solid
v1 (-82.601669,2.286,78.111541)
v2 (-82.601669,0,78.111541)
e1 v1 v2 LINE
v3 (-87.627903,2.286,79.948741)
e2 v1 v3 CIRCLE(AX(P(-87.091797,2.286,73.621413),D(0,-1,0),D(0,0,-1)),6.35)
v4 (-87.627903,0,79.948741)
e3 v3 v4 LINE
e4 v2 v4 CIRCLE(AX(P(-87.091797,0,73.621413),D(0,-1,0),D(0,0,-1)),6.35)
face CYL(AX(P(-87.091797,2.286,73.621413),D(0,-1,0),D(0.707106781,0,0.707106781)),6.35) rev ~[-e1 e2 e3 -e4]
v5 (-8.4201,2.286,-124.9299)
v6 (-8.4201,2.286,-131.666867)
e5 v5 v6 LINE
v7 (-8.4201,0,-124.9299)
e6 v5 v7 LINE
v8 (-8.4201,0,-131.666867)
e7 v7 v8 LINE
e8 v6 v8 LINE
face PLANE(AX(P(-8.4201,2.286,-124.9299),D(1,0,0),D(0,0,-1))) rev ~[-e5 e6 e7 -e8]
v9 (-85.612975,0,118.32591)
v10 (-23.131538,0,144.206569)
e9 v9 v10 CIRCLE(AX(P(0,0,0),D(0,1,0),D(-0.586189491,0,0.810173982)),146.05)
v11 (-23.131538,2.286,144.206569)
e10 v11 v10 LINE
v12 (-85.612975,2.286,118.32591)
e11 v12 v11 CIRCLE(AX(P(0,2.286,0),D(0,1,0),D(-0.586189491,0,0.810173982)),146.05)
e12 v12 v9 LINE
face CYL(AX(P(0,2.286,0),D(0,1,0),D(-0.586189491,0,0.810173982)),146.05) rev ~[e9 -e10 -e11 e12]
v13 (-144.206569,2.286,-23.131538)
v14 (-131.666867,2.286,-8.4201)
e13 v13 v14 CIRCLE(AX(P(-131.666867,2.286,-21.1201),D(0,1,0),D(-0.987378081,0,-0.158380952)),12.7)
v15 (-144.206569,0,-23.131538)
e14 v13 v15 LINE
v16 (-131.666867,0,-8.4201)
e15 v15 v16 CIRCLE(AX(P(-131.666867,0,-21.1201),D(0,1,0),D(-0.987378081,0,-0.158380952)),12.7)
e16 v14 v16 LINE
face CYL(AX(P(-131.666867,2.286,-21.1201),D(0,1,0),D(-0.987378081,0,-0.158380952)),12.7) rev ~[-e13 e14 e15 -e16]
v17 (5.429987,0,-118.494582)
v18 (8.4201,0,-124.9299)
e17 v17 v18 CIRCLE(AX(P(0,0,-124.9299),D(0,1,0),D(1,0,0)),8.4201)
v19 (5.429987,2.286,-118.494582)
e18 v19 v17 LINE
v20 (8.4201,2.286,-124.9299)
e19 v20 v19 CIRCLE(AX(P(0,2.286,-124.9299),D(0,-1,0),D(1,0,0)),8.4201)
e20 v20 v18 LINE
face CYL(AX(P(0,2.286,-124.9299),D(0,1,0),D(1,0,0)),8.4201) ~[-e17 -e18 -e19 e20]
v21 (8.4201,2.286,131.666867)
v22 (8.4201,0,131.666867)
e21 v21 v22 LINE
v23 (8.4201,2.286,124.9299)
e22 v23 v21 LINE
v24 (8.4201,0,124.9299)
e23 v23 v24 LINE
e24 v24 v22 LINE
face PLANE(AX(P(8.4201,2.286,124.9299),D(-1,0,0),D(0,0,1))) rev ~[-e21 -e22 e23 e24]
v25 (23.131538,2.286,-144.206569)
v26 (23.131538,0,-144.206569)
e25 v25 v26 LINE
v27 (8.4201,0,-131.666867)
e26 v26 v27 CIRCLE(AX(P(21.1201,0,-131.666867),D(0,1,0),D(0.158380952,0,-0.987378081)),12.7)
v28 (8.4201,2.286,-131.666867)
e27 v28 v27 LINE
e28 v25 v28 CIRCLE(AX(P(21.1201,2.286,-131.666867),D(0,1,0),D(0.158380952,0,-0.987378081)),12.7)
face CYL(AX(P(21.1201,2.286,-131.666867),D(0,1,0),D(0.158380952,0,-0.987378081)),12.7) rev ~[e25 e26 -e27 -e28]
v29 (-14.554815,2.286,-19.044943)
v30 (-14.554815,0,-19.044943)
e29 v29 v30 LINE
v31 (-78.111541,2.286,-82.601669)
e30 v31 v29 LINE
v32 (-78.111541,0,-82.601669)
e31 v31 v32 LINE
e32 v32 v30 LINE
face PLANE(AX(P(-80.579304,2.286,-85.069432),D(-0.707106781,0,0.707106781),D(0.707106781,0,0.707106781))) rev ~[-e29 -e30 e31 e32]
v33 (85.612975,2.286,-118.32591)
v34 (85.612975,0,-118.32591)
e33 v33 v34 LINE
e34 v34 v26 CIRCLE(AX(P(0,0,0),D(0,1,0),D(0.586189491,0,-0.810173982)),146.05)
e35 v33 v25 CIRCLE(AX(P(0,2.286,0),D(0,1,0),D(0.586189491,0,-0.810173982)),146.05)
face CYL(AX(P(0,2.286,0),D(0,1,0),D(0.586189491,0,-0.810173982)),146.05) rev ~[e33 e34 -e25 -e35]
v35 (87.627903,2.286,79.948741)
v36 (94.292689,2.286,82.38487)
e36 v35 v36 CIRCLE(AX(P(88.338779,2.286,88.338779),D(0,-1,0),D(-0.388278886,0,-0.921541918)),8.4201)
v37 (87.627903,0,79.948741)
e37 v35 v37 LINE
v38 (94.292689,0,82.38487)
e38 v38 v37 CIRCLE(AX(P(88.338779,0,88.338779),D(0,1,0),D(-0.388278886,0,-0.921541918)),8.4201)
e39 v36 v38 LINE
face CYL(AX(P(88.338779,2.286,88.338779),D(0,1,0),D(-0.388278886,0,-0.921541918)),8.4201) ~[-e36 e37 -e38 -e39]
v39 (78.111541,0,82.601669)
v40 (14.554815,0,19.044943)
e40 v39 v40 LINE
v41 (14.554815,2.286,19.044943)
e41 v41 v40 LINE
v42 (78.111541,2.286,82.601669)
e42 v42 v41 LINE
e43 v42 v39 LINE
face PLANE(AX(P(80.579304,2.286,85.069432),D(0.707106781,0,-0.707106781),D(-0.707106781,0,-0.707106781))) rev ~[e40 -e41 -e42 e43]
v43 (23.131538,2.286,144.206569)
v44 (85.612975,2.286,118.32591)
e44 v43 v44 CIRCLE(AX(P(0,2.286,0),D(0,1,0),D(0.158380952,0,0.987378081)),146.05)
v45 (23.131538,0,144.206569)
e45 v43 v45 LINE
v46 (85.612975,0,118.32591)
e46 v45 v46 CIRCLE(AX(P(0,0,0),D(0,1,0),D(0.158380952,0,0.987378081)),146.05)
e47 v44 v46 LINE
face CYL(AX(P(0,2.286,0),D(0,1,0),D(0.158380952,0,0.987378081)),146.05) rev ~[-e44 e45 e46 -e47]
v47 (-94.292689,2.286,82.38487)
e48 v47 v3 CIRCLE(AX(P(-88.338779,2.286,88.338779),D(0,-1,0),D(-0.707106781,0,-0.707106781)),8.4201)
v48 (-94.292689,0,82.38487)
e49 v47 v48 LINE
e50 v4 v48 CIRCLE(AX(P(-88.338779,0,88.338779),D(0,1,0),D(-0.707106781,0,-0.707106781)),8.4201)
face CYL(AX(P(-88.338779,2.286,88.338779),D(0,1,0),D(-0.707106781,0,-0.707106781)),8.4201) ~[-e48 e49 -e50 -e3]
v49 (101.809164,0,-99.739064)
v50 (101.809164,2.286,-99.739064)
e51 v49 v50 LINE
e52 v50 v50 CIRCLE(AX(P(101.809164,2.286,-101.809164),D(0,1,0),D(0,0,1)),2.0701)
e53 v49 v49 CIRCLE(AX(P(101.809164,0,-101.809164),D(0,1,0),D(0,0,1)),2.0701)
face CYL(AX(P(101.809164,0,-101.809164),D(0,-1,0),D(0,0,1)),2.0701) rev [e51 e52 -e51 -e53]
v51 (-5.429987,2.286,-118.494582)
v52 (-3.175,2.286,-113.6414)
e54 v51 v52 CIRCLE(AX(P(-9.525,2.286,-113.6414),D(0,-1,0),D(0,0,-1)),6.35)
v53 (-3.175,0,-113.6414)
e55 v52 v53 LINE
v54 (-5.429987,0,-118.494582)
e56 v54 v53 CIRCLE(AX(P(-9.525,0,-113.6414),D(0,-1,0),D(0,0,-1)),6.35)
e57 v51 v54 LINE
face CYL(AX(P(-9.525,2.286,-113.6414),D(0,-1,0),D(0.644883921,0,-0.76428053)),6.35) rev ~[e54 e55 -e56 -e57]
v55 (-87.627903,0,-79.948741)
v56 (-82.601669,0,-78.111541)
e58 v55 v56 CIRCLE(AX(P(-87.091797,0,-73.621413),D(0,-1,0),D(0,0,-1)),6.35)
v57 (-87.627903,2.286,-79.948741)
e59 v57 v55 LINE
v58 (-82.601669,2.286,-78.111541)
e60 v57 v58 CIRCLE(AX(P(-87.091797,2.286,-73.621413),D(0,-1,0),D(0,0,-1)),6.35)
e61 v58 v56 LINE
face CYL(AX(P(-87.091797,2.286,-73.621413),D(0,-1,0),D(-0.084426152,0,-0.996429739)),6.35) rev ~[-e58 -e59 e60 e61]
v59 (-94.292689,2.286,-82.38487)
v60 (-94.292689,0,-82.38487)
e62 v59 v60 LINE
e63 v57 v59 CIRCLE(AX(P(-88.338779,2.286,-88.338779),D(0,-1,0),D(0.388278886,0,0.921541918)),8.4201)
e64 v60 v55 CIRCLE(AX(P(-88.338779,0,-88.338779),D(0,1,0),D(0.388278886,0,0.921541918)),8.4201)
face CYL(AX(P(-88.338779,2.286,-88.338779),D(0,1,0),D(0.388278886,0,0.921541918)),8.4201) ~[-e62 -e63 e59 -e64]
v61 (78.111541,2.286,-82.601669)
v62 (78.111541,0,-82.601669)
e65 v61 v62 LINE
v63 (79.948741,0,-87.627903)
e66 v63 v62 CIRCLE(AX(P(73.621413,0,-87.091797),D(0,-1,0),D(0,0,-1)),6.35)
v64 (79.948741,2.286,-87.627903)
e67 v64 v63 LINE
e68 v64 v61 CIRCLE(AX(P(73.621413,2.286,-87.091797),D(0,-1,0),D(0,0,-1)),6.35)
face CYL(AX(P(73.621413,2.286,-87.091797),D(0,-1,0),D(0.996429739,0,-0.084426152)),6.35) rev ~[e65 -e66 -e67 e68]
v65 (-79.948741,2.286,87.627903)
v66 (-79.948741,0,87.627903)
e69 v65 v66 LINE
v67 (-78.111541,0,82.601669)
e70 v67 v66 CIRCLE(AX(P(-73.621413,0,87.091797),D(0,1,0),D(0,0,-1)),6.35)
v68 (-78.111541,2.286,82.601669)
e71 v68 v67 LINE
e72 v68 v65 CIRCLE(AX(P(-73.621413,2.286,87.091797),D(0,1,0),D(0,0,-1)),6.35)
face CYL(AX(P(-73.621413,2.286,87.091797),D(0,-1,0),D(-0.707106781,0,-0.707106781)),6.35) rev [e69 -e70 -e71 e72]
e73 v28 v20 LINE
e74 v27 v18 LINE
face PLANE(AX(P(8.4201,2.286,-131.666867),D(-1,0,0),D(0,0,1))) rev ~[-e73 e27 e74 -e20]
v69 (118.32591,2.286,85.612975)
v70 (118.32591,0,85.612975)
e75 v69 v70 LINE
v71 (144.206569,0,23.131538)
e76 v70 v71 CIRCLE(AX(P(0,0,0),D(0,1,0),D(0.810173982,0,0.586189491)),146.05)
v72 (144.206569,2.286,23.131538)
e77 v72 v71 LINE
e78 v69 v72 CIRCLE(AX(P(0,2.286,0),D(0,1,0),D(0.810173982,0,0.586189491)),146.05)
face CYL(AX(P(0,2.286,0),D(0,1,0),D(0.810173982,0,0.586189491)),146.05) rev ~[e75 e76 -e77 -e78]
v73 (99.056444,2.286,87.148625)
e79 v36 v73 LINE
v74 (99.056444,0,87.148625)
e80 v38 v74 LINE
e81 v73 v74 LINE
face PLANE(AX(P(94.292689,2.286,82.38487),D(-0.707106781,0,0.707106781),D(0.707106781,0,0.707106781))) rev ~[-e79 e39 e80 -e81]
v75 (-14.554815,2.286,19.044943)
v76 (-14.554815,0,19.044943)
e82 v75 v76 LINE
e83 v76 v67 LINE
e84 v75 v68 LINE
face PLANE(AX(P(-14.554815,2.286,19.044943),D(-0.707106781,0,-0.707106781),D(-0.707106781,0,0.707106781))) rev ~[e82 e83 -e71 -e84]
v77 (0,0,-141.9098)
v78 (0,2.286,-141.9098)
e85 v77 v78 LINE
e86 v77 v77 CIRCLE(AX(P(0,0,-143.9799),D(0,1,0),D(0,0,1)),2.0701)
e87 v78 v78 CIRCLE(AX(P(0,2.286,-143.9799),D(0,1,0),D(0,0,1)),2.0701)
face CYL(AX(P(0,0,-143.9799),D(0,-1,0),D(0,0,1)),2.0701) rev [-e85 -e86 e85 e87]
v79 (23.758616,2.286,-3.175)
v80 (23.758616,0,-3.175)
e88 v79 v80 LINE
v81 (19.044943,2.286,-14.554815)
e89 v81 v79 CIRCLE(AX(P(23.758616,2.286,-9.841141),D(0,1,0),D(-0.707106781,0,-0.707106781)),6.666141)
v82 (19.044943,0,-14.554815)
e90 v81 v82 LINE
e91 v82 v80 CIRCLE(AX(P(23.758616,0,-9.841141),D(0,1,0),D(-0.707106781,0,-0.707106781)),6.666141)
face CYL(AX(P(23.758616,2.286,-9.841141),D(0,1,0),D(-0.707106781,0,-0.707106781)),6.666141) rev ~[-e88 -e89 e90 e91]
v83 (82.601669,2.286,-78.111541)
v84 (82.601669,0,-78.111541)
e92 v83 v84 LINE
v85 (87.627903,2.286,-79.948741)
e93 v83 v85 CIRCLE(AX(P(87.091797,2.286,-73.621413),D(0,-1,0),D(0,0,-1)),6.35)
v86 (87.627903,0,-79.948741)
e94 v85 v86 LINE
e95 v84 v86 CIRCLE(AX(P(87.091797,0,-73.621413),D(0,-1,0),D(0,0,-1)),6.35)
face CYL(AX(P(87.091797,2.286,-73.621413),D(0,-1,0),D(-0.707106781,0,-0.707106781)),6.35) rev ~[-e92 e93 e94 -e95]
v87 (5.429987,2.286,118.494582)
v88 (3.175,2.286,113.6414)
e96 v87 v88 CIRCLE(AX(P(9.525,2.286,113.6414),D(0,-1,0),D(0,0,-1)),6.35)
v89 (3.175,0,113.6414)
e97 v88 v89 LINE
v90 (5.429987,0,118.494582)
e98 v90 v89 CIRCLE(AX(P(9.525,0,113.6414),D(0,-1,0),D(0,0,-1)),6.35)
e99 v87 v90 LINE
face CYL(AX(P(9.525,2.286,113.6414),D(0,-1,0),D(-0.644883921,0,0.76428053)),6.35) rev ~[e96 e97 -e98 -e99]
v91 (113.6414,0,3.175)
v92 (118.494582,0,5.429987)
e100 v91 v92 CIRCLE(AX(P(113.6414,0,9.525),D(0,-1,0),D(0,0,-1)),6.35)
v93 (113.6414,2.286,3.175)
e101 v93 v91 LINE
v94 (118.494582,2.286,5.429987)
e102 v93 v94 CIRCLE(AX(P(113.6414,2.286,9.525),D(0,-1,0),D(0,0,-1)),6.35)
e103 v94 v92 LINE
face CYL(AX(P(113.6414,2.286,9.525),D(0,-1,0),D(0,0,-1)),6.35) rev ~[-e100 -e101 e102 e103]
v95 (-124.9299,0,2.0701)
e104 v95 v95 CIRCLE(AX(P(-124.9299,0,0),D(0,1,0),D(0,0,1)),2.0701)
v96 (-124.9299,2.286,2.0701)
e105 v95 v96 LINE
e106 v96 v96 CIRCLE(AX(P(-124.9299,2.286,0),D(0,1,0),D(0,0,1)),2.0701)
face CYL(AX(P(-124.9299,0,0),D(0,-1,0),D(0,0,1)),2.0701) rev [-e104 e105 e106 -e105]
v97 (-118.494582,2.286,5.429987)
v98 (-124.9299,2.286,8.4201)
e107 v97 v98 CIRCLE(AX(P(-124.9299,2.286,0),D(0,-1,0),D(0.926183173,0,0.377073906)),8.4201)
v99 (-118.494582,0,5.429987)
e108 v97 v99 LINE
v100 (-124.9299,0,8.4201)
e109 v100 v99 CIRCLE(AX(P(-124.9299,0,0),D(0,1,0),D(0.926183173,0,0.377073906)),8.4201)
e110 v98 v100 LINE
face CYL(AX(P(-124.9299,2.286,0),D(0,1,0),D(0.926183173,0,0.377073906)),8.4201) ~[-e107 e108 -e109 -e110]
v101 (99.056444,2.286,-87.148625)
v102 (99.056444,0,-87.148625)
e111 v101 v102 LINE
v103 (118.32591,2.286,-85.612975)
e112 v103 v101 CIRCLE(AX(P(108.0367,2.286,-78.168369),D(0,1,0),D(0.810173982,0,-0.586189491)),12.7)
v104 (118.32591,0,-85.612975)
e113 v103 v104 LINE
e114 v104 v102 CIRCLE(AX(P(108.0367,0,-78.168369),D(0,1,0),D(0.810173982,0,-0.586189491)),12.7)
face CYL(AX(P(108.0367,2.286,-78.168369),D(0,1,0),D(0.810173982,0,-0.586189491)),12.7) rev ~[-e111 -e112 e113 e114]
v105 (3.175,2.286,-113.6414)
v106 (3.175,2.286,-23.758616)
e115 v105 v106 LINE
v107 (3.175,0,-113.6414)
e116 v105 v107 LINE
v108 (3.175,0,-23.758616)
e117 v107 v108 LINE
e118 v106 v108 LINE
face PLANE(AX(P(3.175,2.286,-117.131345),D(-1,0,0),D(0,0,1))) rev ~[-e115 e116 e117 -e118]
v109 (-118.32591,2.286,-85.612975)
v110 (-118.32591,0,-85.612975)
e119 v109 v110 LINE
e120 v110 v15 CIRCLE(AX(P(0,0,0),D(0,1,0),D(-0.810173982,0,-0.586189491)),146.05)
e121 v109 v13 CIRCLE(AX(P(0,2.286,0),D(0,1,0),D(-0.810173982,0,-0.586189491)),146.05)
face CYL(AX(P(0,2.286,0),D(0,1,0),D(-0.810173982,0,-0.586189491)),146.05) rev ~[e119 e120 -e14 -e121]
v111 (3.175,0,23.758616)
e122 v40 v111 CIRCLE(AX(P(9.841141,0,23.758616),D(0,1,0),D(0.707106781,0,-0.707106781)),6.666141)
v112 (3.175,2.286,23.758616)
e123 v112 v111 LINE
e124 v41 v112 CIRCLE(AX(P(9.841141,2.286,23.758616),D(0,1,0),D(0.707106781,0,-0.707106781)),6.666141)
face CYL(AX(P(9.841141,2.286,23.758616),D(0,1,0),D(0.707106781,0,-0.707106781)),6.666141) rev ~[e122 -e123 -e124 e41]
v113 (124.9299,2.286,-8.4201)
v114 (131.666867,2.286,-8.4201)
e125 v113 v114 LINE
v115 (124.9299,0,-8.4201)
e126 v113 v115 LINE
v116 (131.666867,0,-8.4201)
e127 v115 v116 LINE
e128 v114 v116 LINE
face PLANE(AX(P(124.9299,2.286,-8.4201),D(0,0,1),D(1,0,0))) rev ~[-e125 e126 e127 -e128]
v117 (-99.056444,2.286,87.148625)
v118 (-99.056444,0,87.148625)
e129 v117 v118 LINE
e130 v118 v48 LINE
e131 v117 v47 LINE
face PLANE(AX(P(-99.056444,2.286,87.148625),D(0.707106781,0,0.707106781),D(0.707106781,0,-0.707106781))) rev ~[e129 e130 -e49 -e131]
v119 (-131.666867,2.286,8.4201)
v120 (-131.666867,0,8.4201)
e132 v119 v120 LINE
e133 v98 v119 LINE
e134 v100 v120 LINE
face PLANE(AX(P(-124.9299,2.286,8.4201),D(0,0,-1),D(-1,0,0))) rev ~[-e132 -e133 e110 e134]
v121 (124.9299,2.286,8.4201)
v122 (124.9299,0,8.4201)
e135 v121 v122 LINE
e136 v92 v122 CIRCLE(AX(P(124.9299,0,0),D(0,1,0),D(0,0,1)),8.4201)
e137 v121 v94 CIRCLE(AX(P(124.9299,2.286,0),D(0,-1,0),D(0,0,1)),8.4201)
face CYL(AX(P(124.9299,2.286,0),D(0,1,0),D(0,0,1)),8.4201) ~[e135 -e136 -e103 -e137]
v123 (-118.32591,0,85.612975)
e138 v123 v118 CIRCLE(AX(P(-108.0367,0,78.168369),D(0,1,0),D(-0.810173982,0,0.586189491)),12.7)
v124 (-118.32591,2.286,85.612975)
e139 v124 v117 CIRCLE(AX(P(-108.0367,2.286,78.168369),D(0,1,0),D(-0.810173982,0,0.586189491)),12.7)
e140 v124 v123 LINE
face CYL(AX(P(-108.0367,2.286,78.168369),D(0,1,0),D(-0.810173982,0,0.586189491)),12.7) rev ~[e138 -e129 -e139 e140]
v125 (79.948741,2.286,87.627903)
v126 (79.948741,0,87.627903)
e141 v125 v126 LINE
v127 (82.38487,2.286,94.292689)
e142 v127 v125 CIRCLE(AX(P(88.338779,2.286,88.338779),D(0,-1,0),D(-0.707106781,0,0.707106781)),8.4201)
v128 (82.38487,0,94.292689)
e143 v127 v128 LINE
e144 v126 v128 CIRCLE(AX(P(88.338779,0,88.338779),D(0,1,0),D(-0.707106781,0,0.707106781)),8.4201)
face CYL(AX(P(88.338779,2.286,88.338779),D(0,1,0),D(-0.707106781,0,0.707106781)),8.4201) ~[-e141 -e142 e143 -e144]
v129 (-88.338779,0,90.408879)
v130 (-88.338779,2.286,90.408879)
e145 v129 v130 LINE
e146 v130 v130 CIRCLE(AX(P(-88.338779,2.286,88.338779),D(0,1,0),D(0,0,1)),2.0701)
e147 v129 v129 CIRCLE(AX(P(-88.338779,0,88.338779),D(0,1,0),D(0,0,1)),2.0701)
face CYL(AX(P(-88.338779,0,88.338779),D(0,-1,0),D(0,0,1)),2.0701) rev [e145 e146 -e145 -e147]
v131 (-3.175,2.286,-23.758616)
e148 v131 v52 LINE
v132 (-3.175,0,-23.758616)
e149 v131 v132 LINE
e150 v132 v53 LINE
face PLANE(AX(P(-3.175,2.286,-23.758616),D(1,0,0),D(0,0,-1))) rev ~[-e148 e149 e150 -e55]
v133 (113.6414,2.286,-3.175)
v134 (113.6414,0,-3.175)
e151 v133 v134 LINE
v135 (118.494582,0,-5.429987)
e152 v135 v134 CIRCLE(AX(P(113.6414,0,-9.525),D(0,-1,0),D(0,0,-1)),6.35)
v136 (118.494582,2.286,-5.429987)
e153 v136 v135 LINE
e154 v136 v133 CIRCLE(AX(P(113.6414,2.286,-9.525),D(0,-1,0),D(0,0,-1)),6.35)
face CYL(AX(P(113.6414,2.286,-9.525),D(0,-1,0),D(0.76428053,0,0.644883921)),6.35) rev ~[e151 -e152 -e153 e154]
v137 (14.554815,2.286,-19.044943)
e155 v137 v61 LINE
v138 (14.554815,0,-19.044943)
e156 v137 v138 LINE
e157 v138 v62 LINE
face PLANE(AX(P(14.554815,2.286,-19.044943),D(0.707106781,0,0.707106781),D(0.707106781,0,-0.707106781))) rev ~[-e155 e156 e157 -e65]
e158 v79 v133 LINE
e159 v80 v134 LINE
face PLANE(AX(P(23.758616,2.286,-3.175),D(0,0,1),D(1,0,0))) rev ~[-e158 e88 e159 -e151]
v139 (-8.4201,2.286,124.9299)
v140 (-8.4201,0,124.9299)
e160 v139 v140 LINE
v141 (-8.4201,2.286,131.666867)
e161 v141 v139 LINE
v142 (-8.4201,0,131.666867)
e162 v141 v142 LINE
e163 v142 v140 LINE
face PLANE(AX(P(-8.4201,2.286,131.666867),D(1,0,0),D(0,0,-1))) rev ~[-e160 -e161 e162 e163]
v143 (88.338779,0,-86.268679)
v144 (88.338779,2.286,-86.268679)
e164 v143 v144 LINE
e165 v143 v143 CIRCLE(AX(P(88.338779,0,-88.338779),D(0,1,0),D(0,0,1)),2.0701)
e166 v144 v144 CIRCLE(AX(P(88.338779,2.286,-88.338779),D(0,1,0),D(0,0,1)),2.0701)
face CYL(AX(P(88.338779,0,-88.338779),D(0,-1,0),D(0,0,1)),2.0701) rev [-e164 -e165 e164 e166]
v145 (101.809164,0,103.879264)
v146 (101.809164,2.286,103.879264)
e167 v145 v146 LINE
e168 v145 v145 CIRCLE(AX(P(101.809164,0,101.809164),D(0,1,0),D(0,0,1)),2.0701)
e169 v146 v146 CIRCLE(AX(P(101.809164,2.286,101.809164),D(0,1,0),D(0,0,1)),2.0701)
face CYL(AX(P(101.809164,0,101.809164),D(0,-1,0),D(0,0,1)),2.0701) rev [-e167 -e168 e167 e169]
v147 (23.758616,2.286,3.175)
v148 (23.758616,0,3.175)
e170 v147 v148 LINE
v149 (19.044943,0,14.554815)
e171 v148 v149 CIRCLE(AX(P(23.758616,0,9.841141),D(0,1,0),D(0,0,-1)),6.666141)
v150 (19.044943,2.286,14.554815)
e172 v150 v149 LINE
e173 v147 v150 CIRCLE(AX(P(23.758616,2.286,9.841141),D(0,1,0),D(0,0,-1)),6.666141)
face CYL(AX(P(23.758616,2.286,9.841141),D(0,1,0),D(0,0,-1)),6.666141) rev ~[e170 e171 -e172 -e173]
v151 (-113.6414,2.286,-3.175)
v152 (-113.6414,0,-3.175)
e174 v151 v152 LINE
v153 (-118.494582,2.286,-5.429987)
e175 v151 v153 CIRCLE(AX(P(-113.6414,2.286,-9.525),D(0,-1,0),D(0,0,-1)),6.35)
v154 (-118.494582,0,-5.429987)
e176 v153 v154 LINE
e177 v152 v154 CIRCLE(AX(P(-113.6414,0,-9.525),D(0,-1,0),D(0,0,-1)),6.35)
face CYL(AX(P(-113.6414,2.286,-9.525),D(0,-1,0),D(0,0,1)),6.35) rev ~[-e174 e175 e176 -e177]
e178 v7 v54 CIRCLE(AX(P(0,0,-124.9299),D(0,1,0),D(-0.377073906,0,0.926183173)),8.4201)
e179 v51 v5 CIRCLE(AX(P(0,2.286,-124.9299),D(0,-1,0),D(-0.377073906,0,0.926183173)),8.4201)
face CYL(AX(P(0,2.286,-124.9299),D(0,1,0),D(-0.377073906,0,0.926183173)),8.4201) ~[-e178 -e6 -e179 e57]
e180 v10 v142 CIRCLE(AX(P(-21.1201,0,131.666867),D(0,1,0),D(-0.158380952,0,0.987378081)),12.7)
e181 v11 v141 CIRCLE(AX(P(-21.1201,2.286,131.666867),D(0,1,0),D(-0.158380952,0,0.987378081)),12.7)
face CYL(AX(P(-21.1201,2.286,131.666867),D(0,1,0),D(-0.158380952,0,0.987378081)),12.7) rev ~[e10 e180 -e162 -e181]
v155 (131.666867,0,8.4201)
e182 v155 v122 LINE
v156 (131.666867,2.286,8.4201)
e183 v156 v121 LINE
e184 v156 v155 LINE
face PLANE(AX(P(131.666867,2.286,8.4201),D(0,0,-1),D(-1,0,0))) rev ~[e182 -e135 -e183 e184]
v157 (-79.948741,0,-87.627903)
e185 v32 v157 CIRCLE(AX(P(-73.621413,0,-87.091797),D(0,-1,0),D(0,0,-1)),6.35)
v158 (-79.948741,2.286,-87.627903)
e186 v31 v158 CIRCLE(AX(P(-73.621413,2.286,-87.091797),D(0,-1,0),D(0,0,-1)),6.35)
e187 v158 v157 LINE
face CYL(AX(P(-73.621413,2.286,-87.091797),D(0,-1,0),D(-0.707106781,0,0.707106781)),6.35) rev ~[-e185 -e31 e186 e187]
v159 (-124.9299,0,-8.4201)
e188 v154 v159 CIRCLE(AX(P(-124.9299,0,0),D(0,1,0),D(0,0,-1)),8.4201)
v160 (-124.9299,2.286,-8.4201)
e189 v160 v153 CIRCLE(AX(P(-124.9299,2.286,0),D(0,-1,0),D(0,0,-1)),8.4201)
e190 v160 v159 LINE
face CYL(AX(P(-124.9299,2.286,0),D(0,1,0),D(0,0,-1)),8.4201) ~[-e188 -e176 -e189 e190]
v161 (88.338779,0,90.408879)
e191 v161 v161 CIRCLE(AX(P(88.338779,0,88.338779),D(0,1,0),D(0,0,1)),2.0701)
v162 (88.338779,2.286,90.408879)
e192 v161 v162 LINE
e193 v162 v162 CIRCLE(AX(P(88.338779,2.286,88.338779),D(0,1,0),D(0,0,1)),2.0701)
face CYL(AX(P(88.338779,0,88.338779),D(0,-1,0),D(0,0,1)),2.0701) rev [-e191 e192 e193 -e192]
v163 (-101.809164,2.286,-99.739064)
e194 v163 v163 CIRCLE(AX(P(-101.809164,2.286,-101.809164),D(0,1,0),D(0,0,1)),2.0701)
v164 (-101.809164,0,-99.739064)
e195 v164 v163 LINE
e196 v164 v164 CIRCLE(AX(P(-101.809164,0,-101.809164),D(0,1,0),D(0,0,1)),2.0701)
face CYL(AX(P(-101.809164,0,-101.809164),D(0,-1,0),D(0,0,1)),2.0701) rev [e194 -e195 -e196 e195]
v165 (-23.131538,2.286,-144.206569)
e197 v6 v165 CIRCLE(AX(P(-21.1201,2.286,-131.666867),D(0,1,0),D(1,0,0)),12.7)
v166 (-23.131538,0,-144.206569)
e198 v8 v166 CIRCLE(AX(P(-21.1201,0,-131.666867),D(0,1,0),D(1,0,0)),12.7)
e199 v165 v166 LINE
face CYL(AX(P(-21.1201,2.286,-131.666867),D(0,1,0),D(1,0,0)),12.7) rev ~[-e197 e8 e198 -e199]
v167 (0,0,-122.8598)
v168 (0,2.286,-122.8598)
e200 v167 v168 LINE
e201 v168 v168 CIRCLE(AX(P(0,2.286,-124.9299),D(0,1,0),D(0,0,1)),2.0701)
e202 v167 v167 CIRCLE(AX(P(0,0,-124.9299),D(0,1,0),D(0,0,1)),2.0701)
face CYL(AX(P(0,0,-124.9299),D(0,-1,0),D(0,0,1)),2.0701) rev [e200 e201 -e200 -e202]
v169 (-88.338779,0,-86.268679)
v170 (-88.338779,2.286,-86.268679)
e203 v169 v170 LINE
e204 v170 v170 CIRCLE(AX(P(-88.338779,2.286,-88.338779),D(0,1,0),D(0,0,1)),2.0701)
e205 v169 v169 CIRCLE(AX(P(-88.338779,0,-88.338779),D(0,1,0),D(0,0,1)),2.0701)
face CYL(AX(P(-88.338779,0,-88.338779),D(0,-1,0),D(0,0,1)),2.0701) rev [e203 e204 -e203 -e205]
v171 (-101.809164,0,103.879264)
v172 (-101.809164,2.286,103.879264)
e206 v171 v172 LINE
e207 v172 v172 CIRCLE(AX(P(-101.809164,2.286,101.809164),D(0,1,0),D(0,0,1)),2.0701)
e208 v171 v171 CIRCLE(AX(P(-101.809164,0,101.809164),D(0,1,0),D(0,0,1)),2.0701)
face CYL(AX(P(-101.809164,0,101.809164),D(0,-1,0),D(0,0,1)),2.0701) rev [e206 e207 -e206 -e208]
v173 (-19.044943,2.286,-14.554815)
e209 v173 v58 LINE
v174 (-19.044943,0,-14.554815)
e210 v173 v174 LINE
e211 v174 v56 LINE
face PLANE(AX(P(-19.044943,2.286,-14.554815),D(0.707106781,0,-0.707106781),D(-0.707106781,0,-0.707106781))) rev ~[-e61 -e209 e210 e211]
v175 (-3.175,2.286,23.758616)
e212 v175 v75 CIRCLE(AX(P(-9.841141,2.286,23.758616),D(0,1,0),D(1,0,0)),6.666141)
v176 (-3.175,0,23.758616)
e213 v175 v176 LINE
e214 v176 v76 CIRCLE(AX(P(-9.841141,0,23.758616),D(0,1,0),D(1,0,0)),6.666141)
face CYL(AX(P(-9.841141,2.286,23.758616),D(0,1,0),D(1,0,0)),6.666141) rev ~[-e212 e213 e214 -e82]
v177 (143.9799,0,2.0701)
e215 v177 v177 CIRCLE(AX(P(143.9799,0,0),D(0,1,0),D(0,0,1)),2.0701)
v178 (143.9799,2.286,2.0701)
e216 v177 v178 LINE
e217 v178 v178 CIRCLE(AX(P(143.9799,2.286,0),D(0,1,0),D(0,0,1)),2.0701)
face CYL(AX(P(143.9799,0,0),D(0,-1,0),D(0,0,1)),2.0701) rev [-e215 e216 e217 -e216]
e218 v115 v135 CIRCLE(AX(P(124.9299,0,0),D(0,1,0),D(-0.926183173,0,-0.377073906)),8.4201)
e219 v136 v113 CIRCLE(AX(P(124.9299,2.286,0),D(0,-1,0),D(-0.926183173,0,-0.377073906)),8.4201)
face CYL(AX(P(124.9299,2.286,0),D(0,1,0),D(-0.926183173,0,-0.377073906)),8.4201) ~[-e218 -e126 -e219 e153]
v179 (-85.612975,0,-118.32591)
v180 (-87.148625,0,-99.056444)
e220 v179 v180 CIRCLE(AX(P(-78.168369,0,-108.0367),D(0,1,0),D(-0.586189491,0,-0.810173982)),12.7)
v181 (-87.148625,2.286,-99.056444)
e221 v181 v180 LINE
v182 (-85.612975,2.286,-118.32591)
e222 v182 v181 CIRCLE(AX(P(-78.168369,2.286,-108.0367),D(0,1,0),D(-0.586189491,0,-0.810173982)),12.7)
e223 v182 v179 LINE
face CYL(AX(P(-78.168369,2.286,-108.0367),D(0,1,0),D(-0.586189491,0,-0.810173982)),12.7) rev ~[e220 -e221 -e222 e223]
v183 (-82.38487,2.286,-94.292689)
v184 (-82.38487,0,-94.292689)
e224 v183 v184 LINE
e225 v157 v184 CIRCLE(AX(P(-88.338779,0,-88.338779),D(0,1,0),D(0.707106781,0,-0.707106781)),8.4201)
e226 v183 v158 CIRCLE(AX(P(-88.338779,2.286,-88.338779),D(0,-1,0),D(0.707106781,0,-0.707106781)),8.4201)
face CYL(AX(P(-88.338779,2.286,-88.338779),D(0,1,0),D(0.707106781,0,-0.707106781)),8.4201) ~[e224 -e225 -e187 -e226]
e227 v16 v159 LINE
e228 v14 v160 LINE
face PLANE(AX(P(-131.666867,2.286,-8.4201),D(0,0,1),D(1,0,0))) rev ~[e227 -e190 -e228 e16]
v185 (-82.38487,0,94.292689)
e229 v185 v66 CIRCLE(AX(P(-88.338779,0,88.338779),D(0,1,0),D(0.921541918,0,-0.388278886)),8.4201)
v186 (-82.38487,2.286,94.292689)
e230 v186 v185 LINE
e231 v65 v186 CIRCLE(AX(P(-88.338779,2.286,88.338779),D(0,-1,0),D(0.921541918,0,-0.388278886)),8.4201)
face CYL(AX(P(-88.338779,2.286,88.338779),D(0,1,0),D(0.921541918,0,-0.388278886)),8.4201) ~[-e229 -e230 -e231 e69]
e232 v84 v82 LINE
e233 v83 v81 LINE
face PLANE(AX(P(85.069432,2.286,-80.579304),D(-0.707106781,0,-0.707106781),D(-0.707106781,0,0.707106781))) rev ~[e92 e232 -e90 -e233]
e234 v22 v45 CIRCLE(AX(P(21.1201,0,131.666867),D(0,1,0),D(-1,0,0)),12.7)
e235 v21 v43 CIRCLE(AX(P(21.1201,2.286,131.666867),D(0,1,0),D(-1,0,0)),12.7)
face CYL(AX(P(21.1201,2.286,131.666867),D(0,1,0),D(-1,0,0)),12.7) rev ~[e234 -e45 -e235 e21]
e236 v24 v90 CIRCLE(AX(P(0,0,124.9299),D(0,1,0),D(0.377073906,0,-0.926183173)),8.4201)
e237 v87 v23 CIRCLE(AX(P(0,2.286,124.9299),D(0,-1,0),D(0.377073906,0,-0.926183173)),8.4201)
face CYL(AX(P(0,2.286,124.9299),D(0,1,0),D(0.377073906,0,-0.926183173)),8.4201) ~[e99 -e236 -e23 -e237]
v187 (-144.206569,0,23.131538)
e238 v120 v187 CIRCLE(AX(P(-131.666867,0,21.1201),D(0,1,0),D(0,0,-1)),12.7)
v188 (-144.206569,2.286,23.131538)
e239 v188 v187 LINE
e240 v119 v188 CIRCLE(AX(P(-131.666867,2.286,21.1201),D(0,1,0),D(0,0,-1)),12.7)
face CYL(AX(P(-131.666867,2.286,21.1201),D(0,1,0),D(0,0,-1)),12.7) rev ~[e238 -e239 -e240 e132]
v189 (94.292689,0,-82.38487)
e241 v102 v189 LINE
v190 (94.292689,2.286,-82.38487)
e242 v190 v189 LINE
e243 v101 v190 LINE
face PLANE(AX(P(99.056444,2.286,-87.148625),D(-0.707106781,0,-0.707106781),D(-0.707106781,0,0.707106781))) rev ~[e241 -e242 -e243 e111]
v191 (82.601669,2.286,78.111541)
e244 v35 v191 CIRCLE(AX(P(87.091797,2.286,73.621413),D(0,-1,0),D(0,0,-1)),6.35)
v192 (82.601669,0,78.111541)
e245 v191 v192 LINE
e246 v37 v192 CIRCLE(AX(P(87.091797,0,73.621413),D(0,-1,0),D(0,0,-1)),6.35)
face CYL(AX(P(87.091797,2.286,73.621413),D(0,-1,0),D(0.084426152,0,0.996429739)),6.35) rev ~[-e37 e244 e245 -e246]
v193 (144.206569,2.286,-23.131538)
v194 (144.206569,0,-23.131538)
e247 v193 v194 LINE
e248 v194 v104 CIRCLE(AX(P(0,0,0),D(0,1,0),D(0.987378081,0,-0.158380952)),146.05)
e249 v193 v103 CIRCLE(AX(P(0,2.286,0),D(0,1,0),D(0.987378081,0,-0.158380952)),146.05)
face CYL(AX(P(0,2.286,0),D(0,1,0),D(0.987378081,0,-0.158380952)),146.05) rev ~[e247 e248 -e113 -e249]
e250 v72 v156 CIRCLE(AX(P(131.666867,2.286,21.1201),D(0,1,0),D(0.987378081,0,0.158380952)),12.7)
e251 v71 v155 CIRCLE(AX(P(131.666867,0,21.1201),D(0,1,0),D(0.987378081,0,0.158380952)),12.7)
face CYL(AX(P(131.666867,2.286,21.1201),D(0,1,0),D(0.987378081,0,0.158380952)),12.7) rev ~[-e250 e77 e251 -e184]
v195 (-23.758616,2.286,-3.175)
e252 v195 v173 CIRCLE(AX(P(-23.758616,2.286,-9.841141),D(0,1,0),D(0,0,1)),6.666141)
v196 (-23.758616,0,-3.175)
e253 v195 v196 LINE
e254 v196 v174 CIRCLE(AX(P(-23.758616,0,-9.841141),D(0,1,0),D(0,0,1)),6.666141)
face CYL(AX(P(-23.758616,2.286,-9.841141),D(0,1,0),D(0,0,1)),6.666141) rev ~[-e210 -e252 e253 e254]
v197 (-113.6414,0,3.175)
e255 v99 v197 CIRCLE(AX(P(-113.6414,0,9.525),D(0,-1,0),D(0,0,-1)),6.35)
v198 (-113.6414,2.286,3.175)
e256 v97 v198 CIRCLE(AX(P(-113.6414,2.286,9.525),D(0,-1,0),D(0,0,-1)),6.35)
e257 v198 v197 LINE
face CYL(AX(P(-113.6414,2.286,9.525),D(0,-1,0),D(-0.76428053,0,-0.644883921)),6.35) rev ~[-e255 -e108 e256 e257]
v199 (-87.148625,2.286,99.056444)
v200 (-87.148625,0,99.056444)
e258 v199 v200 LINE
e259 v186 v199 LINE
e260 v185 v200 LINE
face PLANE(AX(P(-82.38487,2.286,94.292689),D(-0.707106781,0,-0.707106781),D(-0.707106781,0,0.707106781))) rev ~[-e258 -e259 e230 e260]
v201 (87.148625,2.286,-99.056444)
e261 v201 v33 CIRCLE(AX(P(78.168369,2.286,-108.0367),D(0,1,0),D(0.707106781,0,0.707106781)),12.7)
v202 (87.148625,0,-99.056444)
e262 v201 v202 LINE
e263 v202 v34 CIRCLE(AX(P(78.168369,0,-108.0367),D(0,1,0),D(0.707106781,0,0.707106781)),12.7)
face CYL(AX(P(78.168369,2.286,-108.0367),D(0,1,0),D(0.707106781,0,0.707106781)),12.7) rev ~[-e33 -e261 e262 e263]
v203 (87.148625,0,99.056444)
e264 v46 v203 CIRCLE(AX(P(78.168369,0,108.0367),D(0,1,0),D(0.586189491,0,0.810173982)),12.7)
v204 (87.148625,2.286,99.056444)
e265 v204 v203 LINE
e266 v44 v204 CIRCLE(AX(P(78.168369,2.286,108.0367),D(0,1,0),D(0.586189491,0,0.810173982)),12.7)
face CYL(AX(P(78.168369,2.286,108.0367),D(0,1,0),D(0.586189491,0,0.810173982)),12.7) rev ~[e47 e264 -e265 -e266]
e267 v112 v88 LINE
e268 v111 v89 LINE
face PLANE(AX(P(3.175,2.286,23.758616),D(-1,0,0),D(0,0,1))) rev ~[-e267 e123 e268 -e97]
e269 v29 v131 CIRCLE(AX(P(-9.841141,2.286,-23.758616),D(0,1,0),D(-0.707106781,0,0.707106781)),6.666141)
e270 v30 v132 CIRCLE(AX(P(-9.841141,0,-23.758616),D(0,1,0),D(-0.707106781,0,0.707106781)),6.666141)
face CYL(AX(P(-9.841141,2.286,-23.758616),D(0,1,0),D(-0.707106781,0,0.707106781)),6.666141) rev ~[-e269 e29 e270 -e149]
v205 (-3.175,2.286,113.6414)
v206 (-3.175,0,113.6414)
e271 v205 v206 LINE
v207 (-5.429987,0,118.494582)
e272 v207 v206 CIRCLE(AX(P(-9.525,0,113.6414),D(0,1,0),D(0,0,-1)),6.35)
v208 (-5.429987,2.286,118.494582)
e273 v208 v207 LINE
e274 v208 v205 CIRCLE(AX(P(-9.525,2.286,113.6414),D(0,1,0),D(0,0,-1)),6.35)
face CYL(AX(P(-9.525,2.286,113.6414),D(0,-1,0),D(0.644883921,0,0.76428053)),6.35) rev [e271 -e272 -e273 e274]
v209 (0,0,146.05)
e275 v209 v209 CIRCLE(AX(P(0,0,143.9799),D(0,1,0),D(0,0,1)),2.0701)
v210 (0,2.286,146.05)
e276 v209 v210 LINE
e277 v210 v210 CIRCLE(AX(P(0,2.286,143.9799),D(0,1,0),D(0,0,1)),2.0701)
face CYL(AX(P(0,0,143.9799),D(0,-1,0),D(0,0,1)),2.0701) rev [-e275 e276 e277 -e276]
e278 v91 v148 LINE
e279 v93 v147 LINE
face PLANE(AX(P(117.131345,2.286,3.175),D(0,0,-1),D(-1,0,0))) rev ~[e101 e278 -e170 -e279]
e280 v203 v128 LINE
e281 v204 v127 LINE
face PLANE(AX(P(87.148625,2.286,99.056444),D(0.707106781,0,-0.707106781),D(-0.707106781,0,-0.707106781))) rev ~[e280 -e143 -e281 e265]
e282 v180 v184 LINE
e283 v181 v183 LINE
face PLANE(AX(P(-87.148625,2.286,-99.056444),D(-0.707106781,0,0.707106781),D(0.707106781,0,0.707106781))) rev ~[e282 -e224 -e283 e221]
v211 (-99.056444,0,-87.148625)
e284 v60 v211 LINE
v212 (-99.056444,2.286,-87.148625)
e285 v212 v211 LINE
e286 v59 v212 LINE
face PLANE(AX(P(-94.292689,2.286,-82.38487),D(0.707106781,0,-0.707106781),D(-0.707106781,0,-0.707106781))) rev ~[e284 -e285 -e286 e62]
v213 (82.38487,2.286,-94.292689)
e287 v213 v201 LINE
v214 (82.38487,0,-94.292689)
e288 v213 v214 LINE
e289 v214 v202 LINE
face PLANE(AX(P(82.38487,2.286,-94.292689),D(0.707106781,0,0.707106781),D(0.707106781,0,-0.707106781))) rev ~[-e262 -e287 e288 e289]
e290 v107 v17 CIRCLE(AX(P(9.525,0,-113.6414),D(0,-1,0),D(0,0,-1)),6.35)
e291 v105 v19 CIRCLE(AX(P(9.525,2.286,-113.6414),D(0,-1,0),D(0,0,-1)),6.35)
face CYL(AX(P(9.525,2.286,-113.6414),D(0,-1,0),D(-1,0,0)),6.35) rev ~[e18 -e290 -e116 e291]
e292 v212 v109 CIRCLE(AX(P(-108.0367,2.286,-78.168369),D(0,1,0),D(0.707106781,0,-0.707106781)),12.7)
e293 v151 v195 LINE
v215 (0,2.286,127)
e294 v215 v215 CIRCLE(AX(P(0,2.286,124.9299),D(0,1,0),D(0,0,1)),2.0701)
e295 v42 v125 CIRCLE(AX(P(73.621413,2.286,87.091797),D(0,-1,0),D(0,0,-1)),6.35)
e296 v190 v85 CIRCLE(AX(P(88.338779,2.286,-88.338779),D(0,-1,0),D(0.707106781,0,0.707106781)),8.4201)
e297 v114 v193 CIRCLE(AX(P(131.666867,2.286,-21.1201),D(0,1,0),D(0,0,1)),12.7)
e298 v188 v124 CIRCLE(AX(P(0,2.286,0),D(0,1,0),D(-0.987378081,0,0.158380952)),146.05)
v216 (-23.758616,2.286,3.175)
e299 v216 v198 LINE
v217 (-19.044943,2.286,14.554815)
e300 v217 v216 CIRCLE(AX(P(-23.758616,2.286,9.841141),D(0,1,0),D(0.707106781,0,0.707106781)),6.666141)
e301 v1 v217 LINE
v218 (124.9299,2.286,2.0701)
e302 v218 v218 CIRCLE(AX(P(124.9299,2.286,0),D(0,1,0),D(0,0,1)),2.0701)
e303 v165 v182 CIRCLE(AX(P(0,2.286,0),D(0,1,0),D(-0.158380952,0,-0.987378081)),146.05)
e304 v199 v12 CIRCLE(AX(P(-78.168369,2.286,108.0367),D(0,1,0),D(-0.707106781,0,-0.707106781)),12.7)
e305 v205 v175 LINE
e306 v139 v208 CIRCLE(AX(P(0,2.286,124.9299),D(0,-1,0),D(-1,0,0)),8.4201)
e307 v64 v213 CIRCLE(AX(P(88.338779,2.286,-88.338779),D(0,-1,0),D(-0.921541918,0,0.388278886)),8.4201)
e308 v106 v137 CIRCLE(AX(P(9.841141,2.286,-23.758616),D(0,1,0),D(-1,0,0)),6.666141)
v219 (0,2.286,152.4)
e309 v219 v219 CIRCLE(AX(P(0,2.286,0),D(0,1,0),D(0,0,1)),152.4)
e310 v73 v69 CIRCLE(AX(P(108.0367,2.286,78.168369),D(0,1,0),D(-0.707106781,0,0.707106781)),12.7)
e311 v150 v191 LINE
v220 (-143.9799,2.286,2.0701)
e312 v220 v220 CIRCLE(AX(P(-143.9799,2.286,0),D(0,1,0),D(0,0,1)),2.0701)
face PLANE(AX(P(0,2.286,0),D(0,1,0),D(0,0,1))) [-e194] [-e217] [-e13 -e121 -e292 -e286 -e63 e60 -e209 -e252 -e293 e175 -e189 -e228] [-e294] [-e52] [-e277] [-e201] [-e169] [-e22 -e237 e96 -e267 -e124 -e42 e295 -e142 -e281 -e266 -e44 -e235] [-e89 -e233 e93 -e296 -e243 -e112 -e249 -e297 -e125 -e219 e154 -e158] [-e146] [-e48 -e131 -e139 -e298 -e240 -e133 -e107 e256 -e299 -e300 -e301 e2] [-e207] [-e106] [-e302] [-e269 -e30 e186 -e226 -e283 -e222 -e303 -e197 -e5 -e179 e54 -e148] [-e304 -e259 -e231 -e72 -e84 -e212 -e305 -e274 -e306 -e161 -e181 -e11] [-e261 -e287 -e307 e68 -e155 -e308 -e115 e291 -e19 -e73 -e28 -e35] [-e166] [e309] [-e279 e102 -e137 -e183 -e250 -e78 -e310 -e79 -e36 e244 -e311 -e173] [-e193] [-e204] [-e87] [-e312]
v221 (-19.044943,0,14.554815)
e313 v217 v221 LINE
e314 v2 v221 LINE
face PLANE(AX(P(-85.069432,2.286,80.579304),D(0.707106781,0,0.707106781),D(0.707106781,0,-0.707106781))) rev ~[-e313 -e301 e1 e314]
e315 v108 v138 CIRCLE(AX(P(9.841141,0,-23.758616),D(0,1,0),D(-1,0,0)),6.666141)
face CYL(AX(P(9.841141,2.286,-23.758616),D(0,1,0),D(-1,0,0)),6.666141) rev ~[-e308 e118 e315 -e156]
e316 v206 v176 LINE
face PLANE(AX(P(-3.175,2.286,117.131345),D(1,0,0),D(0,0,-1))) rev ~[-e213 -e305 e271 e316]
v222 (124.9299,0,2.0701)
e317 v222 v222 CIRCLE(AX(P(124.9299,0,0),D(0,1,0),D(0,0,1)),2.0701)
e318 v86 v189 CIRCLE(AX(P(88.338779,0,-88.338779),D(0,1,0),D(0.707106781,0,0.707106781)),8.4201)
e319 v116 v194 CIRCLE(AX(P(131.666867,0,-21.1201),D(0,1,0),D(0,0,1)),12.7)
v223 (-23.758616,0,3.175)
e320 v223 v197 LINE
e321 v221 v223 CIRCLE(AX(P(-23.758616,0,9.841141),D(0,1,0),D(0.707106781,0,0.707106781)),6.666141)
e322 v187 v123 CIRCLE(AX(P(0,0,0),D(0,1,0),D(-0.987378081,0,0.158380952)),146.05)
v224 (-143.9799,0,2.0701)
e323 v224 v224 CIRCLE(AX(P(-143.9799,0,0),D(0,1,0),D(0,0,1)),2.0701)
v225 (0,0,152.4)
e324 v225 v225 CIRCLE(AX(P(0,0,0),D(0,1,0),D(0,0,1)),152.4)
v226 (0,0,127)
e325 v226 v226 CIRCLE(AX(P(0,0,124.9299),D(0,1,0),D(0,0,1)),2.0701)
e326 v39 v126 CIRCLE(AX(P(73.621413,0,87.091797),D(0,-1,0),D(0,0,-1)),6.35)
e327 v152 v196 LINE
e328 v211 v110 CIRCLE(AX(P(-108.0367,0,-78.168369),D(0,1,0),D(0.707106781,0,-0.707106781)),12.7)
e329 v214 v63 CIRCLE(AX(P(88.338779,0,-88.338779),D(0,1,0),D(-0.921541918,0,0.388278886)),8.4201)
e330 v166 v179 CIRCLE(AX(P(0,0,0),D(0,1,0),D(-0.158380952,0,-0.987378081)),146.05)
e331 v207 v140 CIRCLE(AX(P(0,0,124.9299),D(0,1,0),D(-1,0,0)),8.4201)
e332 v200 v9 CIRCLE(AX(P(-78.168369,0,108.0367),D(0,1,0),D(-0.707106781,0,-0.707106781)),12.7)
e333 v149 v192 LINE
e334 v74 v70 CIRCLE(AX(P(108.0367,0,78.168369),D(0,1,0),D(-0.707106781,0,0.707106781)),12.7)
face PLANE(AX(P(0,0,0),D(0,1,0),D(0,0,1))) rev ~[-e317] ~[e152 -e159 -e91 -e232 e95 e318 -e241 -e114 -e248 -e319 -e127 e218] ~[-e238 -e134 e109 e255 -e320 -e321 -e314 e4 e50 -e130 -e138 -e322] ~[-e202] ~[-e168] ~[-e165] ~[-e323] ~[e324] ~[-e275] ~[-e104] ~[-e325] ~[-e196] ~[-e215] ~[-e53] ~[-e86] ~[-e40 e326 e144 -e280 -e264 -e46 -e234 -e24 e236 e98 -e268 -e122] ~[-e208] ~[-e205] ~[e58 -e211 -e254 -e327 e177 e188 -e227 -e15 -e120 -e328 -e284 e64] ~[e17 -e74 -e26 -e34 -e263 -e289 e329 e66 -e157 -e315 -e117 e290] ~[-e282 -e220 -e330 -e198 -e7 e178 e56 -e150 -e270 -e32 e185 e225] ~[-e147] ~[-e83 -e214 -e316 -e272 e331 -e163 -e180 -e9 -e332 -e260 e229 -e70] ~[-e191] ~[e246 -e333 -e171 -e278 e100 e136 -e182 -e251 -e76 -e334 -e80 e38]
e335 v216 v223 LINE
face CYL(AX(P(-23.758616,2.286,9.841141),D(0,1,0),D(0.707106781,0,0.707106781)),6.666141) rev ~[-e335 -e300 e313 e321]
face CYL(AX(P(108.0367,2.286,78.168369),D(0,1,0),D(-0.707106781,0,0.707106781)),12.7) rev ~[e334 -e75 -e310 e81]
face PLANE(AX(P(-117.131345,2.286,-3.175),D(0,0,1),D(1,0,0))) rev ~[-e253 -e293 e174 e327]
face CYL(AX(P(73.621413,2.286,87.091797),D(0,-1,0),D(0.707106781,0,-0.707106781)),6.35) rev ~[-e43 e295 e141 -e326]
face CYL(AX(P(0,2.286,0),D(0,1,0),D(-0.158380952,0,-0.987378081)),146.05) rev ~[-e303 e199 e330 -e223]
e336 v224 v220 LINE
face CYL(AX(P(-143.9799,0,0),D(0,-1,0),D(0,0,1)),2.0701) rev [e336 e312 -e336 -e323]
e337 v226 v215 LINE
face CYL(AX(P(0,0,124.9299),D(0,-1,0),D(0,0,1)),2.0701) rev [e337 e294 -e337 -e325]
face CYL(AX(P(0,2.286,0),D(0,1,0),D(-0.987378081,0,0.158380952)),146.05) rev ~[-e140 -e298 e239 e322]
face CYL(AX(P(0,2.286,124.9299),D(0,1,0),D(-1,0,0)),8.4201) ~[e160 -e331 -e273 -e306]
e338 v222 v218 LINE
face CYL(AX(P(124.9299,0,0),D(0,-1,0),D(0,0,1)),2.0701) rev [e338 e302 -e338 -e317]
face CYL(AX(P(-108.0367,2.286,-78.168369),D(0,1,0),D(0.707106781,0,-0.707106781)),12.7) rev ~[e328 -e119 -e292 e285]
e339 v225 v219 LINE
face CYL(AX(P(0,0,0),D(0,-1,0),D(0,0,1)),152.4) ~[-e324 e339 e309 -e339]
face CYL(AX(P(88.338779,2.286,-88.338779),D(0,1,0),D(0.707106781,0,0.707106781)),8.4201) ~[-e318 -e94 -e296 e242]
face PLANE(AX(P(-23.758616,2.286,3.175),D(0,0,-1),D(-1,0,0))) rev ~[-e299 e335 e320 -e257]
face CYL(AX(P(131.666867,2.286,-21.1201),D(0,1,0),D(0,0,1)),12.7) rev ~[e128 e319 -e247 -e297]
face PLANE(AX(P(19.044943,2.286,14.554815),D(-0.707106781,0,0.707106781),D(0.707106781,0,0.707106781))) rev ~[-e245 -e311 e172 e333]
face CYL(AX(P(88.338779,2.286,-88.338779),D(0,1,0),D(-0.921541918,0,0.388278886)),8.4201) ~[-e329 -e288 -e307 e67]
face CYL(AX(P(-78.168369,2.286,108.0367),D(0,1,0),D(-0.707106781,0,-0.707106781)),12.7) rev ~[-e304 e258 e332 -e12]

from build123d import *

# Parameters (mm, degrees)
SKETCH1_R           = 152.4
SKETCH1_R_2         = 2.070099999999984
SKETCH1_R_3         = 2.0700999999999827
SKETCH1_R_4         = 2.070099999999987
SKETCH1_R_5         = 2.0700999999999805
SKETCH1_R_6         = 2.070099999999982
SKETCH1_R_7         = 2.070099999999981
SKETCH1_R_8         = 2.07009999999998
SKETCH1_R_9         = 2.0700999999999787
SKETCH1_R_10        = 2.070099999999999
SKETCH1_R_11        = 2.070099999999978
SKETCH1_R_12        = 2.0700999999999765
SKETCH1_R_13        = 2.0700999999999934
SKETCH1_R_14        = 2.0700999999999747
BOSS_EXTRUDE1_DEPTH = 2.286
CUT_EXTRUDE1_DEPTH  = 216.53826991047322
CIRPATTERN1_COUNT   = 8
FILLET1_R           = 6.35


with BuildPart() as part:
    # Sketch1 → Boss-Extrude1 (new body)
    with BuildSketch(Plane(origin=(0, 0, 0), x_dir=(1, 0, 0), z_dir=(0, 1, 0))):
        with Locations(Location((0, 0, 0), (0, 0, 270))):
            Circle(SKETCH1_R)
        with Locations(Location((-143.9799, 1.749e-14, 0), (0, 0, 270))):
            Circle(SKETCH1_R_2, mode=Mode.SUBTRACT)
        with Locations(Location((-124.9299, -1.53e-14, 0), (0, 0, 270))):
            Circle(SKETCH1_R_3, mode=Mode.SUBTRACT)
        with Locations(Location((-101.8091636445608, 101.80916364456118, 0), (0, 0, 270))):
            Circle(SKETCH1_R_4, mode=Mode.SUBTRACT)
        with Locations(Location((-88.33877946295712, 88.33877946295739, 0), (0, 0, 270))):
            Circle(SKETCH1_R_5, mode=Mode.SUBTRACT)
        with Locations(Location((5.202e-13, 143.9799, 0), (0, 0, 270))):
            Circle(SKETCH1_R_6, mode=Mode.SUBTRACT)
        with Locations(Location((4.2089e-13, 124.9299, 0), (0, 0, 270))):
            Circle(SKETCH1_R_7, mode=Mode.SUBTRACT)
        with Locations(Location((101.80916364456154, 101.80916364456044, 0), (0, 0, 270))):
            Circle(SKETCH1_R_4, mode=Mode.SUBTRACT)
        with Locations(Location((88.3387794629577, 88.33877946295681, 0), (0, 0, 270))):
            Circle(SKETCH1_R_5, mode=Mode.SUBTRACT)
        with Locations(Location((143.9799, -1.0229e-12, 0), (0, 0, 270))):
            Circle(SKETCH1_R_8, mode=Mode.SUBTRACT)
        with Locations(Location((124.9299, -8.5708e-13, 0), (0, 0, 270))):
            Circle(SKETCH1_R_9, mode=Mode.SUBTRACT)
        with Locations(Location((101.8091636445601, -101.80916364456186, 0), (0, 0, 270))):
            Circle(SKETCH1_R_10, mode=Mode.SUBTRACT)
        with Locations(Location((88.33877946295651, -88.33877946295799, 0), (0, 0, 270))):
            Circle(SKETCH1_R_4, mode=Mode.SUBTRACT)
        with Locations(Location((-1.5256e-12, -143.9799, 0), (0, 0, 270))):
            Circle(SKETCH1_R_11, mode=Mode.SUBTRACT)
        with Locations(Location((-1.29327e-12, -124.9299, 0), (0, 0, 270))):
            Circle(SKETCH1_R_12, mode=Mode.SUBTRACT)
        with Locations(Location((-101.80916364456223, -101.80916364455973, 0), (0, 0, 270))):
            Circle(SKETCH1_R_13, mode=Mode.SUBTRACT)
        with Locations(Location((-88.3387794629583, -88.3387794629562, 0), (0, 0, 270))):
            Circle(SKETCH1_R_14, mode=Mode.SUBTRACT)
    extrude(amount=BOSS_EXTRUDE1_DEPTH)

    # Sketch2 → Cut-Extrude1 (cut, through all)
    with BuildSketch(Plane(origin=(0, 2.286, 0), x_dir=(1, 0, 0), z_dir=(0, 1, 0))):
        with BuildLine():
            ThreePointArc((3.1750000000002516, -117.13134506911759), (6.986841257319973, -120.23073696228855), (8.420099999998719, -124.9299))
            Line((8.420099999998717, -124.9299), (8.420099999998637, -131.6668670394721))
            ThreePointArc((8.420099999998639, -131.6668670394721), (12.88163120444934, -141.3321467511392), (23.131538095236692, -144.2065686622791))
            ThreePointArc((23.13153809523673, -144.2065686622791), (55.89091529692152, -134.93260572327338), (85.61297514632435, -118.32591003915775))
            ThreePointArc((85.6129751463244, -118.32591003915772), (90.82823058997255, -109.04560814479298), (87.14862473293043, -99.05644434946592))
            Line((87.14862473293043, -99.05644434946592), (82.38486965468944, -94.29268927122504))
            ThreePointArc((82.38486965468765, -94.29268927122683), (80.07552658096357, -89.95641224521594), (80.5793043576061, -85.06943241814194))
            Line((80.57930435760602, -85.069432418142), (14.554814795987514, -19.044942856522383))
            ThreePointArc((14.554814795987514, -19.04494285652238), (11.14164107789032, -17.22056340123132), (7.290119914433424, -17.599904875685596))
            ThreePointArc((7.290119914433424, -17.599904875685596), (4.298447514577617, -20.055106641508246), (3.174999999999997, -23.758616482314267))
            Line((3.174999999999999, -23.758616482314267), (3.175, -117.13134506911767))
        make_face()
    cut_extrude1 = extrude(amount=-CUT_EXTRUDE1_DEPTH, mode=Mode.SUBTRACT)

    # CirPattern1: Cut-Extrude1 ×8 about axis
    cirpattern1_axis = Axis((4.806e-14, 0, -1.941e-14), (0, 1, 0))
    for i in range(1, CIRPATTERN1_COUNT):
        add(cut_extrude1.rotate(cirpattern1_axis, i * 360 / CIRPATTERN1_COUNT), mode=Mode.SUBTRACT)

    # Fillet1
    fillet1_edges = [part.edges().sort_by_distance(p)[0] for p in [
        (117.1313450691169, 1.143, 3.1750000000009777),
        (85.06943241814194, 1.143, 80.57930435760721),
        (-85.06943241814196, 1.143, 80.57930435760598),
        (-117.1313450691176, 1.143, 3.1750000000000322),
        (-3.17500000000097, 1.143, 117.13134506911682),
        (-80.5793043576072, 1.143, 85.06943241814186),
        (-117.13134506911682, 1.143, -3.1750000000010234),
        (-85.06943241814184, 1.143, -80.57930435760727),
        (85.06943241814206, 1.143, -80.57930435760602),
        (117.1313450691177, 1.143, -3.175000000000084),
        (3.175000000001045, 1.143, -117.13134506911688),
        (80.57930435760728, 1.143, -85.06943241814191),
        (-80.57930435760595, 1.143, -85.06943241814203),
        (-3.175000000000016, 1.143, -117.13134506911767),
        (80.57930435760606, 1.143, 85.06943241814197),
        (3.175000000000126, 1.143, 117.13134506911763),
    ]]
    fillet(fillet1_edges, radius=FILLET1_R)


solid = part.part
